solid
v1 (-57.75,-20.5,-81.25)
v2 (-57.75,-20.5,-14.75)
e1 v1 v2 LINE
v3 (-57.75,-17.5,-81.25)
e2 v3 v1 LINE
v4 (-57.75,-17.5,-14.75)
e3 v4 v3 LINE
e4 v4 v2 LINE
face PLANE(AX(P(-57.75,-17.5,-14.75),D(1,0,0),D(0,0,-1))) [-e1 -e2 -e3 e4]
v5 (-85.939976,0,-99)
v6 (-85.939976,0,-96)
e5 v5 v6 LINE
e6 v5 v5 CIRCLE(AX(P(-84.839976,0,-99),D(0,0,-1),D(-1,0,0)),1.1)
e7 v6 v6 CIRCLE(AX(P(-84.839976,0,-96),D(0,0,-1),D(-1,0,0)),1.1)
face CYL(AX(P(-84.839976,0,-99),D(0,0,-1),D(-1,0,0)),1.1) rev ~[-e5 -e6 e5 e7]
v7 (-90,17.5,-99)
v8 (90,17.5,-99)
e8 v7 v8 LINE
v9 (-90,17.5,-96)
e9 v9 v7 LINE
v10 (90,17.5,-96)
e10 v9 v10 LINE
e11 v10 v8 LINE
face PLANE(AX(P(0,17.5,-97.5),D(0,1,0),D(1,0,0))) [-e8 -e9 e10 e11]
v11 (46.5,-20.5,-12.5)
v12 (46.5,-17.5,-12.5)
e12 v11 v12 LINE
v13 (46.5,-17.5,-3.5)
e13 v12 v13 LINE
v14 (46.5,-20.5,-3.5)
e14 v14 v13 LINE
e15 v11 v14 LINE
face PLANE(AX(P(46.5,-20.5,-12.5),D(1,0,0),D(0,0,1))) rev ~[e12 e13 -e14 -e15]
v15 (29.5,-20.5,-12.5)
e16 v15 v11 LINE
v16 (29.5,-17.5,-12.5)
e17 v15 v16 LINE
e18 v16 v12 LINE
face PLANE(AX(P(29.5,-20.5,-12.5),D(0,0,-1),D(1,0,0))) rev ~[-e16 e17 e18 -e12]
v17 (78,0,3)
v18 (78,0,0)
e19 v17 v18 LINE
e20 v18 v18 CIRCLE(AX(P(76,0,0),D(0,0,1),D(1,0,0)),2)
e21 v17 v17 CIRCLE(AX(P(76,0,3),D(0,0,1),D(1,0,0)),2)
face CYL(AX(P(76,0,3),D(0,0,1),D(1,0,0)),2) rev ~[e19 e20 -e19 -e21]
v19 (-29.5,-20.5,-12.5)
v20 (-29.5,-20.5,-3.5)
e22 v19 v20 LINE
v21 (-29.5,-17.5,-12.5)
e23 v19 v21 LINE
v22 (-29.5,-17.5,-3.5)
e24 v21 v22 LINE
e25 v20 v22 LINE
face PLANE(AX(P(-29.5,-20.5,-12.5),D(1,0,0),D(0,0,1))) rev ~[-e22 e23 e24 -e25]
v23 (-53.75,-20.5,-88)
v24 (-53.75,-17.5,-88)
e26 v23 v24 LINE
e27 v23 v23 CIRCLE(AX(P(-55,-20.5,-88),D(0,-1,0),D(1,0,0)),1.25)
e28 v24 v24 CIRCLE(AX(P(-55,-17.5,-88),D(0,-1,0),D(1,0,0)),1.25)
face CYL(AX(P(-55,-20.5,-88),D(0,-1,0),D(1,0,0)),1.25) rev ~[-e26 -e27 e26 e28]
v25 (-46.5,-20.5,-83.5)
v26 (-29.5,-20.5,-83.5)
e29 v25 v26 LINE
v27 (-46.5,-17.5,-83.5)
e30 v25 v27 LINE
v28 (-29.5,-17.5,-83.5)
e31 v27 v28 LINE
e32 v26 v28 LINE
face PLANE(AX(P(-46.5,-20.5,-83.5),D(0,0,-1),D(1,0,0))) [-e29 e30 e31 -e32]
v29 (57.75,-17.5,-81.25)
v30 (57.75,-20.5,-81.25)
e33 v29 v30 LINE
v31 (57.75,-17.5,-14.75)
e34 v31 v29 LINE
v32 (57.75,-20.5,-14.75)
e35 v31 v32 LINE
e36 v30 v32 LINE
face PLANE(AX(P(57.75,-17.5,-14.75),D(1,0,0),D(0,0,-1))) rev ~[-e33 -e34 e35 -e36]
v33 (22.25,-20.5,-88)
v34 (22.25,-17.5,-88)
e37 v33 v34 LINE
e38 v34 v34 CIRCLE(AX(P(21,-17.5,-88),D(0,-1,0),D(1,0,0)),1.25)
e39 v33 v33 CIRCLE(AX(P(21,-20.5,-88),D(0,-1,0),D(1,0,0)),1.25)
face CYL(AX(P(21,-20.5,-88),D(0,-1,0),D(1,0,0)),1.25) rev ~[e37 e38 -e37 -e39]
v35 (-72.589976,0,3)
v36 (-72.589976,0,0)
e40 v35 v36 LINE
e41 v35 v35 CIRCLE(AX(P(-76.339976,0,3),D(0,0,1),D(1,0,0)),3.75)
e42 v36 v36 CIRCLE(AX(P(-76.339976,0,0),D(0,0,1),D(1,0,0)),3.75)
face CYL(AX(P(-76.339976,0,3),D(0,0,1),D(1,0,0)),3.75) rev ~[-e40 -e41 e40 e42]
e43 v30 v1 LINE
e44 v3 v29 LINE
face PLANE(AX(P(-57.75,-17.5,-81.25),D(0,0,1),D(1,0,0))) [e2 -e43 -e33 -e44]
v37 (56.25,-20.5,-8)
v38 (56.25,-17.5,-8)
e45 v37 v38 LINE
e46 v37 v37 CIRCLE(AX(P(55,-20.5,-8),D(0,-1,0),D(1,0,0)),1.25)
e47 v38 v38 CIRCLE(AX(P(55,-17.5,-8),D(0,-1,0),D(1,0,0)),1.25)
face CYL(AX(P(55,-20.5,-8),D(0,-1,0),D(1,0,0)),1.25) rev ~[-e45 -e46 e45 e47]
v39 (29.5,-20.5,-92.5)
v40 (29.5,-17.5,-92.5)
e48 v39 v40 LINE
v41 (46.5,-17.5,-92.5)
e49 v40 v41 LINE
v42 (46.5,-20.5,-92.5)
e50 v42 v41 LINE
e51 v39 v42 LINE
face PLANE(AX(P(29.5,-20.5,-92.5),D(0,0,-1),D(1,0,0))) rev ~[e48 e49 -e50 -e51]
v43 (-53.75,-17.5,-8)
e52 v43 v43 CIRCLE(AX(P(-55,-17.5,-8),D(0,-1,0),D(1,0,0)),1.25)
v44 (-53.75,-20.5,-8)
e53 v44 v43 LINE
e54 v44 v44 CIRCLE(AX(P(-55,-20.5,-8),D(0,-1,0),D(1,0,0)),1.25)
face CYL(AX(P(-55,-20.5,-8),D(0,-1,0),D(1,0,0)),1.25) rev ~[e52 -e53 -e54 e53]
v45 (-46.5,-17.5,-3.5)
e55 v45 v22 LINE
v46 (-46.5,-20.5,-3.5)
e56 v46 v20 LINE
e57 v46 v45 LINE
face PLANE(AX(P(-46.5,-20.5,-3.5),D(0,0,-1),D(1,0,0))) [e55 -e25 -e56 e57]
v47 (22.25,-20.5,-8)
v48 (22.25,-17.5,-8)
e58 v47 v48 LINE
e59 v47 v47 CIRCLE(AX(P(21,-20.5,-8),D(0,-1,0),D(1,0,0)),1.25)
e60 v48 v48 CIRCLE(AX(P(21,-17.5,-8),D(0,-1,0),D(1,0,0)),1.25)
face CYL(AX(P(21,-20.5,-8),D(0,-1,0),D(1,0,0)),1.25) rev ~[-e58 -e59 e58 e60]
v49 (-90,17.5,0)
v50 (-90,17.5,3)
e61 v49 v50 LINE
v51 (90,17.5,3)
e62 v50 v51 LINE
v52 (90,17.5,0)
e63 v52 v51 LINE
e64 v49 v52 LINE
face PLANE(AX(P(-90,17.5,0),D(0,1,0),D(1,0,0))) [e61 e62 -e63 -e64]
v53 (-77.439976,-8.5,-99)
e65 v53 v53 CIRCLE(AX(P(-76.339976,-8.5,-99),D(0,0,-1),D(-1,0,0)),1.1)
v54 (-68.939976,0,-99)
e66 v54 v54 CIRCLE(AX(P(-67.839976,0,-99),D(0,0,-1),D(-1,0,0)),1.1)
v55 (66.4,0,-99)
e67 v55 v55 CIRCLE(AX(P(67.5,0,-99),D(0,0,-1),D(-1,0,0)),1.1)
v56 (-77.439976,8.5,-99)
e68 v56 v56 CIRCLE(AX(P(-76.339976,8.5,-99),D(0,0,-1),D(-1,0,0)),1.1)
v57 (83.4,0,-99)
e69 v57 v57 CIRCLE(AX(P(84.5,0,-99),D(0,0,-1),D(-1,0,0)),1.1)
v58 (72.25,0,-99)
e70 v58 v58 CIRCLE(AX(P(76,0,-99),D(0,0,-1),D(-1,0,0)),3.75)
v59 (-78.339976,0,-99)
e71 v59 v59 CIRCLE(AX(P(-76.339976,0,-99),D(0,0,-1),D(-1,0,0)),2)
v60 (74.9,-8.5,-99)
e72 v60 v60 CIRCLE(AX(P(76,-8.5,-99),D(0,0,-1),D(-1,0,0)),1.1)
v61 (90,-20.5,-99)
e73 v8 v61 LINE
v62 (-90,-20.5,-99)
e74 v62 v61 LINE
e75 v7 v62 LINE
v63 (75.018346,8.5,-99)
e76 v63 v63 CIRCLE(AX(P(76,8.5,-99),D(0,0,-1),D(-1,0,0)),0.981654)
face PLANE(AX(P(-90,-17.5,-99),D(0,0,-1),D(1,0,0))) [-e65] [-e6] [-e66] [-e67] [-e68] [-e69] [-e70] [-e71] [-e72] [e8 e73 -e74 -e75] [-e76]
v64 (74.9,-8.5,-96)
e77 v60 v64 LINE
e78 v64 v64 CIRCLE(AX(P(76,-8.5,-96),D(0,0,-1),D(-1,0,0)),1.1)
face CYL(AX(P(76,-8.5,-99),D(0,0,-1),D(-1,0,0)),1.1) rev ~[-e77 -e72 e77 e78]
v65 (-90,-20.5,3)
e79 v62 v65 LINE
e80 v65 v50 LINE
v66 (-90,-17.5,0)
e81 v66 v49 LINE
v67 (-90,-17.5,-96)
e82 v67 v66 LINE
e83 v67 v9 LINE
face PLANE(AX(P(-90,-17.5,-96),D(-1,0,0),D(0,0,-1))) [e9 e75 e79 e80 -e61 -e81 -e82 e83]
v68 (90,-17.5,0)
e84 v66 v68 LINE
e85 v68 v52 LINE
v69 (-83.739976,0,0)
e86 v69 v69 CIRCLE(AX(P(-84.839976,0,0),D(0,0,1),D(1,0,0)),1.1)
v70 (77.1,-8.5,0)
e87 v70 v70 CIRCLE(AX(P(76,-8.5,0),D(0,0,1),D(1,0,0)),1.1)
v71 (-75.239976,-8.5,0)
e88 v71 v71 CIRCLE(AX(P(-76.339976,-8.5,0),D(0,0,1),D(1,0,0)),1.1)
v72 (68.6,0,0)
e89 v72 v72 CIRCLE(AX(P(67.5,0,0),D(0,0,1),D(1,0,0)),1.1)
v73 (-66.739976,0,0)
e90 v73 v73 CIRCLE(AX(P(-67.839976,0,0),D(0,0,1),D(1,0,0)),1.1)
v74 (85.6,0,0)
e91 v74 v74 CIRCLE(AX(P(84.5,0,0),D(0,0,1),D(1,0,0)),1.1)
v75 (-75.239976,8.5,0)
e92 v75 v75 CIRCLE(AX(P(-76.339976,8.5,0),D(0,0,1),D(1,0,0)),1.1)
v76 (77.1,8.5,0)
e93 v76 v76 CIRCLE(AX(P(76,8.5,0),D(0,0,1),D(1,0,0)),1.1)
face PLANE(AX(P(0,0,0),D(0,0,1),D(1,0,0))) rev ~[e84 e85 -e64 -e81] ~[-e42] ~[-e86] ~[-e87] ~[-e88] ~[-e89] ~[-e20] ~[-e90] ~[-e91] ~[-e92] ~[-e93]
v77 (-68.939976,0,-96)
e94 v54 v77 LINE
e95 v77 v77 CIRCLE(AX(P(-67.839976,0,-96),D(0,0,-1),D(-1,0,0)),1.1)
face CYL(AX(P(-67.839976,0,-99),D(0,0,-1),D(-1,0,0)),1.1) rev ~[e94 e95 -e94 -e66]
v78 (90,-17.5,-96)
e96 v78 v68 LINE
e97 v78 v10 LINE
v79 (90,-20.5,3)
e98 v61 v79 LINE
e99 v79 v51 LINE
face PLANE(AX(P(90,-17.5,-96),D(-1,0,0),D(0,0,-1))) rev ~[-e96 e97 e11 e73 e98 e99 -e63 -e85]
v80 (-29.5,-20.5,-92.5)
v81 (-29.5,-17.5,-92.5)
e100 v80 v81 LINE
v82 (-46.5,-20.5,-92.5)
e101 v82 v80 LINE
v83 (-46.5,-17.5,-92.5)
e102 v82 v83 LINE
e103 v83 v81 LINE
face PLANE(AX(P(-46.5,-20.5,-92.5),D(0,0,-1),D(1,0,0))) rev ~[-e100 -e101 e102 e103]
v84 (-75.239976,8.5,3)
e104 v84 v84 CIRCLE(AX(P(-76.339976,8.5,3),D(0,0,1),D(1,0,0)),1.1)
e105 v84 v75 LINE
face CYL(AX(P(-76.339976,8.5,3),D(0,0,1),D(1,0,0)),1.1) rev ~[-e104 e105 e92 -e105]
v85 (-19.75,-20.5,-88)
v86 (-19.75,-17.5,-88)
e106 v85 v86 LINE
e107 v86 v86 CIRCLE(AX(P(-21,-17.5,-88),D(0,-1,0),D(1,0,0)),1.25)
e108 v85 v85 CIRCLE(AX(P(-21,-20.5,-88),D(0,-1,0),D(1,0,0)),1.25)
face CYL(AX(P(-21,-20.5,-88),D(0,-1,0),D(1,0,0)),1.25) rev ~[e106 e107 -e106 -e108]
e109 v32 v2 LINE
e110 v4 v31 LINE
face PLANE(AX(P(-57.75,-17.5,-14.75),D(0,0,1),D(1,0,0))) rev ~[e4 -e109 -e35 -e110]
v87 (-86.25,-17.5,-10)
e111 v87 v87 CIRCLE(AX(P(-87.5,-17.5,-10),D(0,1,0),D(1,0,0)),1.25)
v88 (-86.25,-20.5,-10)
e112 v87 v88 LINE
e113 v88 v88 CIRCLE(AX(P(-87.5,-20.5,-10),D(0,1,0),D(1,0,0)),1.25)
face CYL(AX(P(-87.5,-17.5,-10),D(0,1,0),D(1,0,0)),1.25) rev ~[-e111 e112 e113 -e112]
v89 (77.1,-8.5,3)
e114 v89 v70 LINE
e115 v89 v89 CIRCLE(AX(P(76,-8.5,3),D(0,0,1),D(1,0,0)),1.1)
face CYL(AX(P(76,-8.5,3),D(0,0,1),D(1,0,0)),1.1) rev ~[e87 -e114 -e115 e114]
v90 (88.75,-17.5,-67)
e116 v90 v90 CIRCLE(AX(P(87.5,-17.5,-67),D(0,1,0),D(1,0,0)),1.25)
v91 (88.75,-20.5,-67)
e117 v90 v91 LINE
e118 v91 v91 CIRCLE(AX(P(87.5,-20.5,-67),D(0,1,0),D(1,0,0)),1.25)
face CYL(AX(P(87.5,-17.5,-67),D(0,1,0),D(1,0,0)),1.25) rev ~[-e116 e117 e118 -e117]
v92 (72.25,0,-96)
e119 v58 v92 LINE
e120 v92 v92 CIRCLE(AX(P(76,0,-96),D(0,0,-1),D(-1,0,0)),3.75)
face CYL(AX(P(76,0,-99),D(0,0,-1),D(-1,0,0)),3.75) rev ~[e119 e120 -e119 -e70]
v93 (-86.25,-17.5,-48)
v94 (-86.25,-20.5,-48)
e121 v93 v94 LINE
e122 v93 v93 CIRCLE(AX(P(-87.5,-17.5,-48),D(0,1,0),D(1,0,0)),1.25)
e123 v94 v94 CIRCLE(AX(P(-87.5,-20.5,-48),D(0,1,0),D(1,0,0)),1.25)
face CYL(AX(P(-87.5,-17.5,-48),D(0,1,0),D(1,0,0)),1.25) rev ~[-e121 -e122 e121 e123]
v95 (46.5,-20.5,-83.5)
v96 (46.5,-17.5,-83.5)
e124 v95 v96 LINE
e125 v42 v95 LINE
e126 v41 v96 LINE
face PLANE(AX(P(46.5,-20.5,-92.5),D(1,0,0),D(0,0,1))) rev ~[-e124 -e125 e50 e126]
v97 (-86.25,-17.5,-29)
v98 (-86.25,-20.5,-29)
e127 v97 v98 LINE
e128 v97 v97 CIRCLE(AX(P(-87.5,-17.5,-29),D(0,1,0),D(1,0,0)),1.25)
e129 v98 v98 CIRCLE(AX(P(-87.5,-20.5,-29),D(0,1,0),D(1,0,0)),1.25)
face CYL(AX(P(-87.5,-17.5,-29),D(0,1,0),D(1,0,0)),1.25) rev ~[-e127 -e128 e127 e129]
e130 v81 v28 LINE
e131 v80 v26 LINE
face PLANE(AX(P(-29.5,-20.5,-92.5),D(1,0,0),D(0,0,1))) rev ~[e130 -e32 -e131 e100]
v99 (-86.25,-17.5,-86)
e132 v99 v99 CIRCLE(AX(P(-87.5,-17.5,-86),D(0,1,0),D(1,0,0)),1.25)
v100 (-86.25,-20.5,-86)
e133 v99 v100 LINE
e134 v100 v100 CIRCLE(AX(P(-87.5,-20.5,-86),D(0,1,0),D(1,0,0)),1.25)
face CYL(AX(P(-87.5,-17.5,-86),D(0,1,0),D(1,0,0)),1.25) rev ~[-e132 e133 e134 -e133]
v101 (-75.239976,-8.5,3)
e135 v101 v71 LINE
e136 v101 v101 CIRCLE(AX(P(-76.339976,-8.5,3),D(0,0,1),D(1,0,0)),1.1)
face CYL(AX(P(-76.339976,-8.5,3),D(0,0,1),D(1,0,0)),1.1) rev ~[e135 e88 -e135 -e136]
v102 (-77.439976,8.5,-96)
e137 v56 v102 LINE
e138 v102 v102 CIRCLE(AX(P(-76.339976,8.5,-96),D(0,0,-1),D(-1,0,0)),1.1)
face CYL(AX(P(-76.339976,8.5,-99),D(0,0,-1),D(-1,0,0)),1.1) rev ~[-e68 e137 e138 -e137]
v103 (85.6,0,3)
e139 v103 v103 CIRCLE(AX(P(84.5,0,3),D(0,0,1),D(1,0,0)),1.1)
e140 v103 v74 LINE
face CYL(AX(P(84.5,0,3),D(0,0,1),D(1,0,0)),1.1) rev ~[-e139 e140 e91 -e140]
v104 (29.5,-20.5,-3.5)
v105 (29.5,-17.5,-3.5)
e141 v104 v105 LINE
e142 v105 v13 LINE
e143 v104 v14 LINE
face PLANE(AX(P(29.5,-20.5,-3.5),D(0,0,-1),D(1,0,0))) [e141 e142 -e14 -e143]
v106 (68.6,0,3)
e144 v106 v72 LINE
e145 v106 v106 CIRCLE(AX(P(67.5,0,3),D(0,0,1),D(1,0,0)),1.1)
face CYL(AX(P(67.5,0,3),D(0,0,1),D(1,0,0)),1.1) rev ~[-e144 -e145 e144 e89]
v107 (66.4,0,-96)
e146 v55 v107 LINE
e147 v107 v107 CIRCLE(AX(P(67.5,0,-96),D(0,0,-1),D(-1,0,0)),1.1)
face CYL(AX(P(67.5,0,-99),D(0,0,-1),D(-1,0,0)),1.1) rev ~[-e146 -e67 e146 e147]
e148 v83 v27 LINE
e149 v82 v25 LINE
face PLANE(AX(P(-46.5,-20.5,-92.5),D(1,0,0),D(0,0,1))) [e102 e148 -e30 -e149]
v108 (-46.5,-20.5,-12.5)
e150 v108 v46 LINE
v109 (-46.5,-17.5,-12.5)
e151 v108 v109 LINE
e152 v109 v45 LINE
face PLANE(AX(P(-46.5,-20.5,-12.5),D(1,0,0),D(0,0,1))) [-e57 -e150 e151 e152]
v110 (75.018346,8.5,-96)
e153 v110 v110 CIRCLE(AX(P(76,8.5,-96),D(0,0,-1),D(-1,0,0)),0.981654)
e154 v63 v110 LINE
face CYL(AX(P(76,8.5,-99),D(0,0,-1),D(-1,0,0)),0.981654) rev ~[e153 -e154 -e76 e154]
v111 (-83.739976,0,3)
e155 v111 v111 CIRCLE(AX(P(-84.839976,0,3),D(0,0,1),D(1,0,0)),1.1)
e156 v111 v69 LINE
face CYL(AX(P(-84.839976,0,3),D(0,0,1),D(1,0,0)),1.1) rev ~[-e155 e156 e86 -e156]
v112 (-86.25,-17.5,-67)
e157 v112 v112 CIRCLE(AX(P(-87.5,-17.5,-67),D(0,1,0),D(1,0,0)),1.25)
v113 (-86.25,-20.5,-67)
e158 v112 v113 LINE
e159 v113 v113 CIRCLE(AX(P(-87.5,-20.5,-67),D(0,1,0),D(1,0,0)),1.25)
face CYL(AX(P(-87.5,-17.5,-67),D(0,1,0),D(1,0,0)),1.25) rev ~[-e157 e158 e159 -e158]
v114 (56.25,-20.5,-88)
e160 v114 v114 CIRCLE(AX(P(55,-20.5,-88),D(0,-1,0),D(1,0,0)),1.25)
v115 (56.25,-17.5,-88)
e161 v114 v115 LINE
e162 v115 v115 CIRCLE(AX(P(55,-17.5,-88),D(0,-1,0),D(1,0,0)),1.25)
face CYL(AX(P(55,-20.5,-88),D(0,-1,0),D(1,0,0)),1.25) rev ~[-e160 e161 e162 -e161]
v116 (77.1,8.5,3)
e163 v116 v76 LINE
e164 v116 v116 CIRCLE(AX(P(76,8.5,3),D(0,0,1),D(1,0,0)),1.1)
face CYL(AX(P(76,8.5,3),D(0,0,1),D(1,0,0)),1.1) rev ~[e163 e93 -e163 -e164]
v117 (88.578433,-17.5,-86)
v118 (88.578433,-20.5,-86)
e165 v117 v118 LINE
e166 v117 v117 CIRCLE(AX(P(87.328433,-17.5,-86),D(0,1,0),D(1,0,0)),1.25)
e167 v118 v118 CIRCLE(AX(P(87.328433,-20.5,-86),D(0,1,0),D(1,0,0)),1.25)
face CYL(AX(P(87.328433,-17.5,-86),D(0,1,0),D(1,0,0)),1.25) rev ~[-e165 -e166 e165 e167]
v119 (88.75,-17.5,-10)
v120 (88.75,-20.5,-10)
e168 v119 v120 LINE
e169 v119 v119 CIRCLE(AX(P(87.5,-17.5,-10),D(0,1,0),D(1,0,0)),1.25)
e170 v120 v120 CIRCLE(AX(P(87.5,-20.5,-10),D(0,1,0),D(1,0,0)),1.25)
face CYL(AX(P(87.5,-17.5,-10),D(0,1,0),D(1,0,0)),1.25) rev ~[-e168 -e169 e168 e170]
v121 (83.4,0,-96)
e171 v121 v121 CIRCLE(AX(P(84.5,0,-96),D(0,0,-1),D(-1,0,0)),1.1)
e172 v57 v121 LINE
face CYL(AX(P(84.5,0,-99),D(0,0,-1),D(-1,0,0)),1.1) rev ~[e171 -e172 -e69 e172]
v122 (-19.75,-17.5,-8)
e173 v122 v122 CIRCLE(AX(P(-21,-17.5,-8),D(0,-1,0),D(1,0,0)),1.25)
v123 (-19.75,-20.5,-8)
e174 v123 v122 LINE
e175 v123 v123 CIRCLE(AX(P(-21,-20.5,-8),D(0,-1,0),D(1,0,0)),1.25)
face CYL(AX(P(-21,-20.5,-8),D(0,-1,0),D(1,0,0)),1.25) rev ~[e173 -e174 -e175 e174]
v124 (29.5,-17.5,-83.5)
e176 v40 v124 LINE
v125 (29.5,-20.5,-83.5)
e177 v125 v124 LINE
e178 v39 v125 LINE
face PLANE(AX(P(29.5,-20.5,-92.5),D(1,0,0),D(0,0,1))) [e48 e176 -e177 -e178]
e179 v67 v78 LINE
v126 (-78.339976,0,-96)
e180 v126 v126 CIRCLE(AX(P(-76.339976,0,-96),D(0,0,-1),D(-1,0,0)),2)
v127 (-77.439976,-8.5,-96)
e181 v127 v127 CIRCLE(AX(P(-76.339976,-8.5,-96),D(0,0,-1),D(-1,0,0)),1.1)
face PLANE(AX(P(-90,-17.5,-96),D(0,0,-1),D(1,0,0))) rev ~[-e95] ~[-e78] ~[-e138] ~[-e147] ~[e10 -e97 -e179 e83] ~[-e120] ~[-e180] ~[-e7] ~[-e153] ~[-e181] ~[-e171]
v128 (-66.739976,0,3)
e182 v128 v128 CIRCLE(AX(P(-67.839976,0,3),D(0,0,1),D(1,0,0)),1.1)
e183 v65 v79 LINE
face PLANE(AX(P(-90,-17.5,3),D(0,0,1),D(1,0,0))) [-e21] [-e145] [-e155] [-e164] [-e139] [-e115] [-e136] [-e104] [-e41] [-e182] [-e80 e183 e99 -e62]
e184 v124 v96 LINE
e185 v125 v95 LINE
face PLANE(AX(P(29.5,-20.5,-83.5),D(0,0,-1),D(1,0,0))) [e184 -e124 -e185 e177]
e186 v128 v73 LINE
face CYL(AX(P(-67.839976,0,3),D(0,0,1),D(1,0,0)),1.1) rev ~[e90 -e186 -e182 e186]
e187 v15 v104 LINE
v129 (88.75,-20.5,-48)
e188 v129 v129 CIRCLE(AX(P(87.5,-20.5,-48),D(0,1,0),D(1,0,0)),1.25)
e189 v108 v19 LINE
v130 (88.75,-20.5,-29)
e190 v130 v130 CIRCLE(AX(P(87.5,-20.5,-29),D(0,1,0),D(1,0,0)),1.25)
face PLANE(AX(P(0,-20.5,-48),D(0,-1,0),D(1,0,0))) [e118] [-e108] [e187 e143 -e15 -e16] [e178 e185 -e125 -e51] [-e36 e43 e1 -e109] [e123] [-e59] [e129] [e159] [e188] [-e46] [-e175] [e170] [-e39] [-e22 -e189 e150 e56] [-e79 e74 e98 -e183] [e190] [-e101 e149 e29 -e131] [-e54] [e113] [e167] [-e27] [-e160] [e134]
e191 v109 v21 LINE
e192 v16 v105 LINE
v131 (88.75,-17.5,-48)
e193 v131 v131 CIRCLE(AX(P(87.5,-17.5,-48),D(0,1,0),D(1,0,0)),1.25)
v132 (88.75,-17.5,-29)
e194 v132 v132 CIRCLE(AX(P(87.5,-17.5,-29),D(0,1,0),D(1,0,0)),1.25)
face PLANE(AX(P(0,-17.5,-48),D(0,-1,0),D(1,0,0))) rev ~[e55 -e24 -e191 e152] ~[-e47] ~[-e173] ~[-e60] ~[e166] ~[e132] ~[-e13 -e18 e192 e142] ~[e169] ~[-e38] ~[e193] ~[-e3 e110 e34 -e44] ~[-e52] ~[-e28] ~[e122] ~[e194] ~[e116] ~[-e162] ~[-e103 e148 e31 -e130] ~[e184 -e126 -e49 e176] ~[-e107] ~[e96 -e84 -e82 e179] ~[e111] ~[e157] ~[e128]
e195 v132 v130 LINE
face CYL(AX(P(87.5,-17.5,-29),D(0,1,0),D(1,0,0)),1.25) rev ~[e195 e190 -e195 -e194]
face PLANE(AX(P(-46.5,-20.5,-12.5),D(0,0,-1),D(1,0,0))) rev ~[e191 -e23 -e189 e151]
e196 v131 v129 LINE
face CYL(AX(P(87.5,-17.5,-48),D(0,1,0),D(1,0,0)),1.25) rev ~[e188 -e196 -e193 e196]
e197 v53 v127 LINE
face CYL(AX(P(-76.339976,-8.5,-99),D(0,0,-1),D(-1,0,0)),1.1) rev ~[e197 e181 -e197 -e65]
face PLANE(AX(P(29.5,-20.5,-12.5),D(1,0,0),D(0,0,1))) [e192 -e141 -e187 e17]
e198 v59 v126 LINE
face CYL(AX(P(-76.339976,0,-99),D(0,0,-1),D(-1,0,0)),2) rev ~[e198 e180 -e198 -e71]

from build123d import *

# Parameters (mm, degrees)
SKETCH_1_W          = 180
SKETCH_1_H          = 35
EXTRUDE_1_DEPTH     = 3
SKETCH_2_R          = 3.75
SKETCH_2_R_2        = 2
CUT_EXTRUDE_1_DEPTH = 3
SKETCH_3_R          = 1.1
CUT_EXTRUDE_2_DEPTH = 3
SKETCH_4_W          = 180
SKETCH_4_H          = 102
EXTRUDE_2_DEPTH     = 3
SKETCH_5_W          = 180
SKETCH_5_H          = 3
EXTRUDE_3_DEPTH     = 35
SKETCH_6_R          = 3.75
SKETCH_6_R_2        = 2
SKETCH_6_R_3        = 1.1
SKETCH_6_R_4        = 0.981653735
CUT_EXTRUDE_3_DEPTH = 35
SKETCH_9_W          = 115.5
SKETCH_9_H          = 66.5
CUT_EXTRUDE_4_DEPTH = 10
SKETCH_10_R         = 1.25
CUT_EXTRUDE_5_DEPTH = 10
SKETCH_11_R         = 1.25
SKETCH_11_W         = 17
SKETCH_11_H         = 9
CUT_EXTRUDE_6_DEPTH = 10
SKETCH_12_R         = 1.25
CUT_EXTRUDE_7_DEPTH = 10


with BuildPart() as part:
    # 스케치1 → 보스-돌출1 (new body)
    with BuildSketch(Plane.XY):
        Rectangle(SKETCH_1_W, SKETCH_1_H)
    extrude(amount=EXTRUDE_1_DEPTH)

    # 스케치2 → 컷-돌출1 (cut)
    with BuildSketch(Plane.XY.offset(3)):
        with Locations((-76.33997629, 0)):
            Circle(SKETCH_2_R)
        with Locations((76, 0)):
            Circle(SKETCH_2_R_2)
    extrude(amount=-CUT_EXTRUDE_1_DEPTH, mode=Mode.SUBTRACT)

    # 스케치3 → 컷-돌출2 (cut)
    with BuildSketch(Plane.XY.offset(3)):
        with Locations((-76.33997629, 8.5)):
            Circle(SKETCH_3_R)
        with Locations((-76.33997629, -8.5)):
            Circle(SKETCH_3_R)
        with Locations((-84.83997629, 0)):
            Circle(SKETCH_3_R)
        with Locations((-67.83997629, 0)):
            Circle(SKETCH_3_R)
        with Locations((76, 8.5)):
            Circle(SKETCH_3_R)
        with Locations((76, -8.5)):
            Circle(SKETCH_3_R)
        with Locations((67.5, 0)):
            Circle(SKETCH_3_R)
        with Locations((84.5, 0)):
            Circle(SKETCH_3_R)
    extrude(amount=-CUT_EXTRUDE_2_DEPTH, mode=Mode.SUBTRACT)

    # 스케치4 → 보스-돌출2 (add)
    with BuildSketch(Plane.XZ.offset(17.5)):
        with Locations((0, -48)):
            Rectangle(SKETCH_4_W, SKETCH_4_H)
    extrude(amount=EXTRUDE_2_DEPTH)

    # 스케치5 → 보스-돌출3 (add)
    with BuildSketch(Plane(origin=(0, -17.5, 0), x_dir=(1, 0, 0), z_dir=(0, 1, 0))):
        with Locations((0, 97.5)):
            Rectangle(SKETCH_5_W, SKETCH_5_H)
    extrude(amount=EXTRUDE_3_DEPTH)

    # 스케치6 → 컷-돌출3 (cut)
    with BuildSketch(Plane(origin=(0, 0, -99), x_dir=(-1, 0, 0), z_dir=(0, 0, -1))):
        with Locations((-76, 0)):
            Circle(SKETCH_6_R)
        with Locations((76.33997629, 0)):
            Circle(SKETCH_6_R_2)
        with Locations((-76, -8.5)):
            Circle(SKETCH_6_R_3)
        with Locations((-67.5, 0)):
            Circle(SKETCH_6_R_3)
        with Locations((-76, 8.5)):
            Circle(SKETCH_6_R_4)
        with Locations((-84.5, 0)):
            Circle(SKETCH_6_R_3)
        with Locations((84.83997629, 0)):
            Circle(SKETCH_6_R_3)
        with Locations((76.33997629, 8.5)):
            Circle(SKETCH_6_R_3)
        with Locations((67.83997629, 0)):
            Circle(SKETCH_6_R_3)
        with Locations((76.33997629, -8.5)):
            Circle(SKETCH_6_R_3)
    extrude(amount=-CUT_EXTRUDE_3_DEPTH, mode=Mode.SUBTRACT)

    # 스케치9 → 컷-돌출4 (cut)
    with BuildSketch(Plane(origin=(0, -17.5, 0), x_dir=(1, 0, 0), z_dir=(0, 1, 0))):
        with Locations((0, 48)):
            Rectangle(SKETCH_9_W, SKETCH_9_H)
    extrude(amount=-CUT_EXTRUDE_4_DEPTH, mode=Mode.SUBTRACT)

    # 스케치10 → 컷-돌출5 (cut)
    with BuildSketch(Plane.XZ.offset(20.5)):
        with Locations((-55, -8)):
            Circle(SKETCH_10_R)
        with Locations((55, -8)):
            Circle(SKETCH_10_R)
        with Locations((55, -88)):
            Circle(SKETCH_10_R)
        with Locations((-55, -88)):
            Circle(SKETCH_10_R)
    extrude(amount=-CUT_EXTRUDE_5_DEPTH, mode=Mode.SUBTRACT)

    # 스케치11 → 컷-돌출6 (cut)
    with BuildSketch(Plane.XZ.offset(20.5)):
        with Locations((21, -8)):
            Circle(SKETCH_11_R)
        with Locations((-21, -8)):
            Circle(SKETCH_11_R)
        with Locations((21, -88)):
            Circle(SKETCH_11_R)
        with Locations((-21, -88)):
            Circle(SKETCH_11_R)
        with Locations((38, -88)):
            Rectangle(SKETCH_11_W, SKETCH_11_H)
        with Locations((-38, -88)):
            Rectangle(SKETCH_11_W, SKETCH_11_H)
        with Locations((38, -8)):
            Rectangle(SKETCH_11_W, SKETCH_11_H)
        with Locations((-38, -8)):
            Rectangle(SKETCH_11_W, SKETCH_11_H)
    extrude(amount=-CUT_EXTRUDE_6_DEPTH, mode=Mode.SUBTRACT)

    # 스케치12 → 컷-돌출7 (cut)
    with BuildSketch(Plane(origin=(0, -17.5, 0), x_dir=(1, 0, 0), z_dir=(0, 1, 0))):
        with Locations((-87.5, 86)):
            Circle(SKETCH_12_R)
        with Locations((-87.5, 67)):
            Circle(SKETCH_12_R)
        with Locations((-87.5, 48)):
            Circle(SKETCH_12_R)
        with Locations((-87.5, 29)):
            Circle(SKETCH_12_R)
        with Locations((-87.5, 10)):
            Circle(SKETCH_12_R)
        with Locations((87.328433312, 86)):
            Circle(SKETCH_12_R)
        with Locations((87.5, 67)):
            Circle(SKETCH_12_R)
        with Locations((87.5, 48)):
            Circle(SKETCH_12_R)
        with Locations((87.5, 29)):
            Circle(SKETCH_12_R)
        with Locations((87.5, 10)):
            Circle(SKETCH_12_R)
    extrude(amount=-CUT_EXTRUDE_7_DEPTH, mode=Mode.SUBTRACT)


solid = part.part
